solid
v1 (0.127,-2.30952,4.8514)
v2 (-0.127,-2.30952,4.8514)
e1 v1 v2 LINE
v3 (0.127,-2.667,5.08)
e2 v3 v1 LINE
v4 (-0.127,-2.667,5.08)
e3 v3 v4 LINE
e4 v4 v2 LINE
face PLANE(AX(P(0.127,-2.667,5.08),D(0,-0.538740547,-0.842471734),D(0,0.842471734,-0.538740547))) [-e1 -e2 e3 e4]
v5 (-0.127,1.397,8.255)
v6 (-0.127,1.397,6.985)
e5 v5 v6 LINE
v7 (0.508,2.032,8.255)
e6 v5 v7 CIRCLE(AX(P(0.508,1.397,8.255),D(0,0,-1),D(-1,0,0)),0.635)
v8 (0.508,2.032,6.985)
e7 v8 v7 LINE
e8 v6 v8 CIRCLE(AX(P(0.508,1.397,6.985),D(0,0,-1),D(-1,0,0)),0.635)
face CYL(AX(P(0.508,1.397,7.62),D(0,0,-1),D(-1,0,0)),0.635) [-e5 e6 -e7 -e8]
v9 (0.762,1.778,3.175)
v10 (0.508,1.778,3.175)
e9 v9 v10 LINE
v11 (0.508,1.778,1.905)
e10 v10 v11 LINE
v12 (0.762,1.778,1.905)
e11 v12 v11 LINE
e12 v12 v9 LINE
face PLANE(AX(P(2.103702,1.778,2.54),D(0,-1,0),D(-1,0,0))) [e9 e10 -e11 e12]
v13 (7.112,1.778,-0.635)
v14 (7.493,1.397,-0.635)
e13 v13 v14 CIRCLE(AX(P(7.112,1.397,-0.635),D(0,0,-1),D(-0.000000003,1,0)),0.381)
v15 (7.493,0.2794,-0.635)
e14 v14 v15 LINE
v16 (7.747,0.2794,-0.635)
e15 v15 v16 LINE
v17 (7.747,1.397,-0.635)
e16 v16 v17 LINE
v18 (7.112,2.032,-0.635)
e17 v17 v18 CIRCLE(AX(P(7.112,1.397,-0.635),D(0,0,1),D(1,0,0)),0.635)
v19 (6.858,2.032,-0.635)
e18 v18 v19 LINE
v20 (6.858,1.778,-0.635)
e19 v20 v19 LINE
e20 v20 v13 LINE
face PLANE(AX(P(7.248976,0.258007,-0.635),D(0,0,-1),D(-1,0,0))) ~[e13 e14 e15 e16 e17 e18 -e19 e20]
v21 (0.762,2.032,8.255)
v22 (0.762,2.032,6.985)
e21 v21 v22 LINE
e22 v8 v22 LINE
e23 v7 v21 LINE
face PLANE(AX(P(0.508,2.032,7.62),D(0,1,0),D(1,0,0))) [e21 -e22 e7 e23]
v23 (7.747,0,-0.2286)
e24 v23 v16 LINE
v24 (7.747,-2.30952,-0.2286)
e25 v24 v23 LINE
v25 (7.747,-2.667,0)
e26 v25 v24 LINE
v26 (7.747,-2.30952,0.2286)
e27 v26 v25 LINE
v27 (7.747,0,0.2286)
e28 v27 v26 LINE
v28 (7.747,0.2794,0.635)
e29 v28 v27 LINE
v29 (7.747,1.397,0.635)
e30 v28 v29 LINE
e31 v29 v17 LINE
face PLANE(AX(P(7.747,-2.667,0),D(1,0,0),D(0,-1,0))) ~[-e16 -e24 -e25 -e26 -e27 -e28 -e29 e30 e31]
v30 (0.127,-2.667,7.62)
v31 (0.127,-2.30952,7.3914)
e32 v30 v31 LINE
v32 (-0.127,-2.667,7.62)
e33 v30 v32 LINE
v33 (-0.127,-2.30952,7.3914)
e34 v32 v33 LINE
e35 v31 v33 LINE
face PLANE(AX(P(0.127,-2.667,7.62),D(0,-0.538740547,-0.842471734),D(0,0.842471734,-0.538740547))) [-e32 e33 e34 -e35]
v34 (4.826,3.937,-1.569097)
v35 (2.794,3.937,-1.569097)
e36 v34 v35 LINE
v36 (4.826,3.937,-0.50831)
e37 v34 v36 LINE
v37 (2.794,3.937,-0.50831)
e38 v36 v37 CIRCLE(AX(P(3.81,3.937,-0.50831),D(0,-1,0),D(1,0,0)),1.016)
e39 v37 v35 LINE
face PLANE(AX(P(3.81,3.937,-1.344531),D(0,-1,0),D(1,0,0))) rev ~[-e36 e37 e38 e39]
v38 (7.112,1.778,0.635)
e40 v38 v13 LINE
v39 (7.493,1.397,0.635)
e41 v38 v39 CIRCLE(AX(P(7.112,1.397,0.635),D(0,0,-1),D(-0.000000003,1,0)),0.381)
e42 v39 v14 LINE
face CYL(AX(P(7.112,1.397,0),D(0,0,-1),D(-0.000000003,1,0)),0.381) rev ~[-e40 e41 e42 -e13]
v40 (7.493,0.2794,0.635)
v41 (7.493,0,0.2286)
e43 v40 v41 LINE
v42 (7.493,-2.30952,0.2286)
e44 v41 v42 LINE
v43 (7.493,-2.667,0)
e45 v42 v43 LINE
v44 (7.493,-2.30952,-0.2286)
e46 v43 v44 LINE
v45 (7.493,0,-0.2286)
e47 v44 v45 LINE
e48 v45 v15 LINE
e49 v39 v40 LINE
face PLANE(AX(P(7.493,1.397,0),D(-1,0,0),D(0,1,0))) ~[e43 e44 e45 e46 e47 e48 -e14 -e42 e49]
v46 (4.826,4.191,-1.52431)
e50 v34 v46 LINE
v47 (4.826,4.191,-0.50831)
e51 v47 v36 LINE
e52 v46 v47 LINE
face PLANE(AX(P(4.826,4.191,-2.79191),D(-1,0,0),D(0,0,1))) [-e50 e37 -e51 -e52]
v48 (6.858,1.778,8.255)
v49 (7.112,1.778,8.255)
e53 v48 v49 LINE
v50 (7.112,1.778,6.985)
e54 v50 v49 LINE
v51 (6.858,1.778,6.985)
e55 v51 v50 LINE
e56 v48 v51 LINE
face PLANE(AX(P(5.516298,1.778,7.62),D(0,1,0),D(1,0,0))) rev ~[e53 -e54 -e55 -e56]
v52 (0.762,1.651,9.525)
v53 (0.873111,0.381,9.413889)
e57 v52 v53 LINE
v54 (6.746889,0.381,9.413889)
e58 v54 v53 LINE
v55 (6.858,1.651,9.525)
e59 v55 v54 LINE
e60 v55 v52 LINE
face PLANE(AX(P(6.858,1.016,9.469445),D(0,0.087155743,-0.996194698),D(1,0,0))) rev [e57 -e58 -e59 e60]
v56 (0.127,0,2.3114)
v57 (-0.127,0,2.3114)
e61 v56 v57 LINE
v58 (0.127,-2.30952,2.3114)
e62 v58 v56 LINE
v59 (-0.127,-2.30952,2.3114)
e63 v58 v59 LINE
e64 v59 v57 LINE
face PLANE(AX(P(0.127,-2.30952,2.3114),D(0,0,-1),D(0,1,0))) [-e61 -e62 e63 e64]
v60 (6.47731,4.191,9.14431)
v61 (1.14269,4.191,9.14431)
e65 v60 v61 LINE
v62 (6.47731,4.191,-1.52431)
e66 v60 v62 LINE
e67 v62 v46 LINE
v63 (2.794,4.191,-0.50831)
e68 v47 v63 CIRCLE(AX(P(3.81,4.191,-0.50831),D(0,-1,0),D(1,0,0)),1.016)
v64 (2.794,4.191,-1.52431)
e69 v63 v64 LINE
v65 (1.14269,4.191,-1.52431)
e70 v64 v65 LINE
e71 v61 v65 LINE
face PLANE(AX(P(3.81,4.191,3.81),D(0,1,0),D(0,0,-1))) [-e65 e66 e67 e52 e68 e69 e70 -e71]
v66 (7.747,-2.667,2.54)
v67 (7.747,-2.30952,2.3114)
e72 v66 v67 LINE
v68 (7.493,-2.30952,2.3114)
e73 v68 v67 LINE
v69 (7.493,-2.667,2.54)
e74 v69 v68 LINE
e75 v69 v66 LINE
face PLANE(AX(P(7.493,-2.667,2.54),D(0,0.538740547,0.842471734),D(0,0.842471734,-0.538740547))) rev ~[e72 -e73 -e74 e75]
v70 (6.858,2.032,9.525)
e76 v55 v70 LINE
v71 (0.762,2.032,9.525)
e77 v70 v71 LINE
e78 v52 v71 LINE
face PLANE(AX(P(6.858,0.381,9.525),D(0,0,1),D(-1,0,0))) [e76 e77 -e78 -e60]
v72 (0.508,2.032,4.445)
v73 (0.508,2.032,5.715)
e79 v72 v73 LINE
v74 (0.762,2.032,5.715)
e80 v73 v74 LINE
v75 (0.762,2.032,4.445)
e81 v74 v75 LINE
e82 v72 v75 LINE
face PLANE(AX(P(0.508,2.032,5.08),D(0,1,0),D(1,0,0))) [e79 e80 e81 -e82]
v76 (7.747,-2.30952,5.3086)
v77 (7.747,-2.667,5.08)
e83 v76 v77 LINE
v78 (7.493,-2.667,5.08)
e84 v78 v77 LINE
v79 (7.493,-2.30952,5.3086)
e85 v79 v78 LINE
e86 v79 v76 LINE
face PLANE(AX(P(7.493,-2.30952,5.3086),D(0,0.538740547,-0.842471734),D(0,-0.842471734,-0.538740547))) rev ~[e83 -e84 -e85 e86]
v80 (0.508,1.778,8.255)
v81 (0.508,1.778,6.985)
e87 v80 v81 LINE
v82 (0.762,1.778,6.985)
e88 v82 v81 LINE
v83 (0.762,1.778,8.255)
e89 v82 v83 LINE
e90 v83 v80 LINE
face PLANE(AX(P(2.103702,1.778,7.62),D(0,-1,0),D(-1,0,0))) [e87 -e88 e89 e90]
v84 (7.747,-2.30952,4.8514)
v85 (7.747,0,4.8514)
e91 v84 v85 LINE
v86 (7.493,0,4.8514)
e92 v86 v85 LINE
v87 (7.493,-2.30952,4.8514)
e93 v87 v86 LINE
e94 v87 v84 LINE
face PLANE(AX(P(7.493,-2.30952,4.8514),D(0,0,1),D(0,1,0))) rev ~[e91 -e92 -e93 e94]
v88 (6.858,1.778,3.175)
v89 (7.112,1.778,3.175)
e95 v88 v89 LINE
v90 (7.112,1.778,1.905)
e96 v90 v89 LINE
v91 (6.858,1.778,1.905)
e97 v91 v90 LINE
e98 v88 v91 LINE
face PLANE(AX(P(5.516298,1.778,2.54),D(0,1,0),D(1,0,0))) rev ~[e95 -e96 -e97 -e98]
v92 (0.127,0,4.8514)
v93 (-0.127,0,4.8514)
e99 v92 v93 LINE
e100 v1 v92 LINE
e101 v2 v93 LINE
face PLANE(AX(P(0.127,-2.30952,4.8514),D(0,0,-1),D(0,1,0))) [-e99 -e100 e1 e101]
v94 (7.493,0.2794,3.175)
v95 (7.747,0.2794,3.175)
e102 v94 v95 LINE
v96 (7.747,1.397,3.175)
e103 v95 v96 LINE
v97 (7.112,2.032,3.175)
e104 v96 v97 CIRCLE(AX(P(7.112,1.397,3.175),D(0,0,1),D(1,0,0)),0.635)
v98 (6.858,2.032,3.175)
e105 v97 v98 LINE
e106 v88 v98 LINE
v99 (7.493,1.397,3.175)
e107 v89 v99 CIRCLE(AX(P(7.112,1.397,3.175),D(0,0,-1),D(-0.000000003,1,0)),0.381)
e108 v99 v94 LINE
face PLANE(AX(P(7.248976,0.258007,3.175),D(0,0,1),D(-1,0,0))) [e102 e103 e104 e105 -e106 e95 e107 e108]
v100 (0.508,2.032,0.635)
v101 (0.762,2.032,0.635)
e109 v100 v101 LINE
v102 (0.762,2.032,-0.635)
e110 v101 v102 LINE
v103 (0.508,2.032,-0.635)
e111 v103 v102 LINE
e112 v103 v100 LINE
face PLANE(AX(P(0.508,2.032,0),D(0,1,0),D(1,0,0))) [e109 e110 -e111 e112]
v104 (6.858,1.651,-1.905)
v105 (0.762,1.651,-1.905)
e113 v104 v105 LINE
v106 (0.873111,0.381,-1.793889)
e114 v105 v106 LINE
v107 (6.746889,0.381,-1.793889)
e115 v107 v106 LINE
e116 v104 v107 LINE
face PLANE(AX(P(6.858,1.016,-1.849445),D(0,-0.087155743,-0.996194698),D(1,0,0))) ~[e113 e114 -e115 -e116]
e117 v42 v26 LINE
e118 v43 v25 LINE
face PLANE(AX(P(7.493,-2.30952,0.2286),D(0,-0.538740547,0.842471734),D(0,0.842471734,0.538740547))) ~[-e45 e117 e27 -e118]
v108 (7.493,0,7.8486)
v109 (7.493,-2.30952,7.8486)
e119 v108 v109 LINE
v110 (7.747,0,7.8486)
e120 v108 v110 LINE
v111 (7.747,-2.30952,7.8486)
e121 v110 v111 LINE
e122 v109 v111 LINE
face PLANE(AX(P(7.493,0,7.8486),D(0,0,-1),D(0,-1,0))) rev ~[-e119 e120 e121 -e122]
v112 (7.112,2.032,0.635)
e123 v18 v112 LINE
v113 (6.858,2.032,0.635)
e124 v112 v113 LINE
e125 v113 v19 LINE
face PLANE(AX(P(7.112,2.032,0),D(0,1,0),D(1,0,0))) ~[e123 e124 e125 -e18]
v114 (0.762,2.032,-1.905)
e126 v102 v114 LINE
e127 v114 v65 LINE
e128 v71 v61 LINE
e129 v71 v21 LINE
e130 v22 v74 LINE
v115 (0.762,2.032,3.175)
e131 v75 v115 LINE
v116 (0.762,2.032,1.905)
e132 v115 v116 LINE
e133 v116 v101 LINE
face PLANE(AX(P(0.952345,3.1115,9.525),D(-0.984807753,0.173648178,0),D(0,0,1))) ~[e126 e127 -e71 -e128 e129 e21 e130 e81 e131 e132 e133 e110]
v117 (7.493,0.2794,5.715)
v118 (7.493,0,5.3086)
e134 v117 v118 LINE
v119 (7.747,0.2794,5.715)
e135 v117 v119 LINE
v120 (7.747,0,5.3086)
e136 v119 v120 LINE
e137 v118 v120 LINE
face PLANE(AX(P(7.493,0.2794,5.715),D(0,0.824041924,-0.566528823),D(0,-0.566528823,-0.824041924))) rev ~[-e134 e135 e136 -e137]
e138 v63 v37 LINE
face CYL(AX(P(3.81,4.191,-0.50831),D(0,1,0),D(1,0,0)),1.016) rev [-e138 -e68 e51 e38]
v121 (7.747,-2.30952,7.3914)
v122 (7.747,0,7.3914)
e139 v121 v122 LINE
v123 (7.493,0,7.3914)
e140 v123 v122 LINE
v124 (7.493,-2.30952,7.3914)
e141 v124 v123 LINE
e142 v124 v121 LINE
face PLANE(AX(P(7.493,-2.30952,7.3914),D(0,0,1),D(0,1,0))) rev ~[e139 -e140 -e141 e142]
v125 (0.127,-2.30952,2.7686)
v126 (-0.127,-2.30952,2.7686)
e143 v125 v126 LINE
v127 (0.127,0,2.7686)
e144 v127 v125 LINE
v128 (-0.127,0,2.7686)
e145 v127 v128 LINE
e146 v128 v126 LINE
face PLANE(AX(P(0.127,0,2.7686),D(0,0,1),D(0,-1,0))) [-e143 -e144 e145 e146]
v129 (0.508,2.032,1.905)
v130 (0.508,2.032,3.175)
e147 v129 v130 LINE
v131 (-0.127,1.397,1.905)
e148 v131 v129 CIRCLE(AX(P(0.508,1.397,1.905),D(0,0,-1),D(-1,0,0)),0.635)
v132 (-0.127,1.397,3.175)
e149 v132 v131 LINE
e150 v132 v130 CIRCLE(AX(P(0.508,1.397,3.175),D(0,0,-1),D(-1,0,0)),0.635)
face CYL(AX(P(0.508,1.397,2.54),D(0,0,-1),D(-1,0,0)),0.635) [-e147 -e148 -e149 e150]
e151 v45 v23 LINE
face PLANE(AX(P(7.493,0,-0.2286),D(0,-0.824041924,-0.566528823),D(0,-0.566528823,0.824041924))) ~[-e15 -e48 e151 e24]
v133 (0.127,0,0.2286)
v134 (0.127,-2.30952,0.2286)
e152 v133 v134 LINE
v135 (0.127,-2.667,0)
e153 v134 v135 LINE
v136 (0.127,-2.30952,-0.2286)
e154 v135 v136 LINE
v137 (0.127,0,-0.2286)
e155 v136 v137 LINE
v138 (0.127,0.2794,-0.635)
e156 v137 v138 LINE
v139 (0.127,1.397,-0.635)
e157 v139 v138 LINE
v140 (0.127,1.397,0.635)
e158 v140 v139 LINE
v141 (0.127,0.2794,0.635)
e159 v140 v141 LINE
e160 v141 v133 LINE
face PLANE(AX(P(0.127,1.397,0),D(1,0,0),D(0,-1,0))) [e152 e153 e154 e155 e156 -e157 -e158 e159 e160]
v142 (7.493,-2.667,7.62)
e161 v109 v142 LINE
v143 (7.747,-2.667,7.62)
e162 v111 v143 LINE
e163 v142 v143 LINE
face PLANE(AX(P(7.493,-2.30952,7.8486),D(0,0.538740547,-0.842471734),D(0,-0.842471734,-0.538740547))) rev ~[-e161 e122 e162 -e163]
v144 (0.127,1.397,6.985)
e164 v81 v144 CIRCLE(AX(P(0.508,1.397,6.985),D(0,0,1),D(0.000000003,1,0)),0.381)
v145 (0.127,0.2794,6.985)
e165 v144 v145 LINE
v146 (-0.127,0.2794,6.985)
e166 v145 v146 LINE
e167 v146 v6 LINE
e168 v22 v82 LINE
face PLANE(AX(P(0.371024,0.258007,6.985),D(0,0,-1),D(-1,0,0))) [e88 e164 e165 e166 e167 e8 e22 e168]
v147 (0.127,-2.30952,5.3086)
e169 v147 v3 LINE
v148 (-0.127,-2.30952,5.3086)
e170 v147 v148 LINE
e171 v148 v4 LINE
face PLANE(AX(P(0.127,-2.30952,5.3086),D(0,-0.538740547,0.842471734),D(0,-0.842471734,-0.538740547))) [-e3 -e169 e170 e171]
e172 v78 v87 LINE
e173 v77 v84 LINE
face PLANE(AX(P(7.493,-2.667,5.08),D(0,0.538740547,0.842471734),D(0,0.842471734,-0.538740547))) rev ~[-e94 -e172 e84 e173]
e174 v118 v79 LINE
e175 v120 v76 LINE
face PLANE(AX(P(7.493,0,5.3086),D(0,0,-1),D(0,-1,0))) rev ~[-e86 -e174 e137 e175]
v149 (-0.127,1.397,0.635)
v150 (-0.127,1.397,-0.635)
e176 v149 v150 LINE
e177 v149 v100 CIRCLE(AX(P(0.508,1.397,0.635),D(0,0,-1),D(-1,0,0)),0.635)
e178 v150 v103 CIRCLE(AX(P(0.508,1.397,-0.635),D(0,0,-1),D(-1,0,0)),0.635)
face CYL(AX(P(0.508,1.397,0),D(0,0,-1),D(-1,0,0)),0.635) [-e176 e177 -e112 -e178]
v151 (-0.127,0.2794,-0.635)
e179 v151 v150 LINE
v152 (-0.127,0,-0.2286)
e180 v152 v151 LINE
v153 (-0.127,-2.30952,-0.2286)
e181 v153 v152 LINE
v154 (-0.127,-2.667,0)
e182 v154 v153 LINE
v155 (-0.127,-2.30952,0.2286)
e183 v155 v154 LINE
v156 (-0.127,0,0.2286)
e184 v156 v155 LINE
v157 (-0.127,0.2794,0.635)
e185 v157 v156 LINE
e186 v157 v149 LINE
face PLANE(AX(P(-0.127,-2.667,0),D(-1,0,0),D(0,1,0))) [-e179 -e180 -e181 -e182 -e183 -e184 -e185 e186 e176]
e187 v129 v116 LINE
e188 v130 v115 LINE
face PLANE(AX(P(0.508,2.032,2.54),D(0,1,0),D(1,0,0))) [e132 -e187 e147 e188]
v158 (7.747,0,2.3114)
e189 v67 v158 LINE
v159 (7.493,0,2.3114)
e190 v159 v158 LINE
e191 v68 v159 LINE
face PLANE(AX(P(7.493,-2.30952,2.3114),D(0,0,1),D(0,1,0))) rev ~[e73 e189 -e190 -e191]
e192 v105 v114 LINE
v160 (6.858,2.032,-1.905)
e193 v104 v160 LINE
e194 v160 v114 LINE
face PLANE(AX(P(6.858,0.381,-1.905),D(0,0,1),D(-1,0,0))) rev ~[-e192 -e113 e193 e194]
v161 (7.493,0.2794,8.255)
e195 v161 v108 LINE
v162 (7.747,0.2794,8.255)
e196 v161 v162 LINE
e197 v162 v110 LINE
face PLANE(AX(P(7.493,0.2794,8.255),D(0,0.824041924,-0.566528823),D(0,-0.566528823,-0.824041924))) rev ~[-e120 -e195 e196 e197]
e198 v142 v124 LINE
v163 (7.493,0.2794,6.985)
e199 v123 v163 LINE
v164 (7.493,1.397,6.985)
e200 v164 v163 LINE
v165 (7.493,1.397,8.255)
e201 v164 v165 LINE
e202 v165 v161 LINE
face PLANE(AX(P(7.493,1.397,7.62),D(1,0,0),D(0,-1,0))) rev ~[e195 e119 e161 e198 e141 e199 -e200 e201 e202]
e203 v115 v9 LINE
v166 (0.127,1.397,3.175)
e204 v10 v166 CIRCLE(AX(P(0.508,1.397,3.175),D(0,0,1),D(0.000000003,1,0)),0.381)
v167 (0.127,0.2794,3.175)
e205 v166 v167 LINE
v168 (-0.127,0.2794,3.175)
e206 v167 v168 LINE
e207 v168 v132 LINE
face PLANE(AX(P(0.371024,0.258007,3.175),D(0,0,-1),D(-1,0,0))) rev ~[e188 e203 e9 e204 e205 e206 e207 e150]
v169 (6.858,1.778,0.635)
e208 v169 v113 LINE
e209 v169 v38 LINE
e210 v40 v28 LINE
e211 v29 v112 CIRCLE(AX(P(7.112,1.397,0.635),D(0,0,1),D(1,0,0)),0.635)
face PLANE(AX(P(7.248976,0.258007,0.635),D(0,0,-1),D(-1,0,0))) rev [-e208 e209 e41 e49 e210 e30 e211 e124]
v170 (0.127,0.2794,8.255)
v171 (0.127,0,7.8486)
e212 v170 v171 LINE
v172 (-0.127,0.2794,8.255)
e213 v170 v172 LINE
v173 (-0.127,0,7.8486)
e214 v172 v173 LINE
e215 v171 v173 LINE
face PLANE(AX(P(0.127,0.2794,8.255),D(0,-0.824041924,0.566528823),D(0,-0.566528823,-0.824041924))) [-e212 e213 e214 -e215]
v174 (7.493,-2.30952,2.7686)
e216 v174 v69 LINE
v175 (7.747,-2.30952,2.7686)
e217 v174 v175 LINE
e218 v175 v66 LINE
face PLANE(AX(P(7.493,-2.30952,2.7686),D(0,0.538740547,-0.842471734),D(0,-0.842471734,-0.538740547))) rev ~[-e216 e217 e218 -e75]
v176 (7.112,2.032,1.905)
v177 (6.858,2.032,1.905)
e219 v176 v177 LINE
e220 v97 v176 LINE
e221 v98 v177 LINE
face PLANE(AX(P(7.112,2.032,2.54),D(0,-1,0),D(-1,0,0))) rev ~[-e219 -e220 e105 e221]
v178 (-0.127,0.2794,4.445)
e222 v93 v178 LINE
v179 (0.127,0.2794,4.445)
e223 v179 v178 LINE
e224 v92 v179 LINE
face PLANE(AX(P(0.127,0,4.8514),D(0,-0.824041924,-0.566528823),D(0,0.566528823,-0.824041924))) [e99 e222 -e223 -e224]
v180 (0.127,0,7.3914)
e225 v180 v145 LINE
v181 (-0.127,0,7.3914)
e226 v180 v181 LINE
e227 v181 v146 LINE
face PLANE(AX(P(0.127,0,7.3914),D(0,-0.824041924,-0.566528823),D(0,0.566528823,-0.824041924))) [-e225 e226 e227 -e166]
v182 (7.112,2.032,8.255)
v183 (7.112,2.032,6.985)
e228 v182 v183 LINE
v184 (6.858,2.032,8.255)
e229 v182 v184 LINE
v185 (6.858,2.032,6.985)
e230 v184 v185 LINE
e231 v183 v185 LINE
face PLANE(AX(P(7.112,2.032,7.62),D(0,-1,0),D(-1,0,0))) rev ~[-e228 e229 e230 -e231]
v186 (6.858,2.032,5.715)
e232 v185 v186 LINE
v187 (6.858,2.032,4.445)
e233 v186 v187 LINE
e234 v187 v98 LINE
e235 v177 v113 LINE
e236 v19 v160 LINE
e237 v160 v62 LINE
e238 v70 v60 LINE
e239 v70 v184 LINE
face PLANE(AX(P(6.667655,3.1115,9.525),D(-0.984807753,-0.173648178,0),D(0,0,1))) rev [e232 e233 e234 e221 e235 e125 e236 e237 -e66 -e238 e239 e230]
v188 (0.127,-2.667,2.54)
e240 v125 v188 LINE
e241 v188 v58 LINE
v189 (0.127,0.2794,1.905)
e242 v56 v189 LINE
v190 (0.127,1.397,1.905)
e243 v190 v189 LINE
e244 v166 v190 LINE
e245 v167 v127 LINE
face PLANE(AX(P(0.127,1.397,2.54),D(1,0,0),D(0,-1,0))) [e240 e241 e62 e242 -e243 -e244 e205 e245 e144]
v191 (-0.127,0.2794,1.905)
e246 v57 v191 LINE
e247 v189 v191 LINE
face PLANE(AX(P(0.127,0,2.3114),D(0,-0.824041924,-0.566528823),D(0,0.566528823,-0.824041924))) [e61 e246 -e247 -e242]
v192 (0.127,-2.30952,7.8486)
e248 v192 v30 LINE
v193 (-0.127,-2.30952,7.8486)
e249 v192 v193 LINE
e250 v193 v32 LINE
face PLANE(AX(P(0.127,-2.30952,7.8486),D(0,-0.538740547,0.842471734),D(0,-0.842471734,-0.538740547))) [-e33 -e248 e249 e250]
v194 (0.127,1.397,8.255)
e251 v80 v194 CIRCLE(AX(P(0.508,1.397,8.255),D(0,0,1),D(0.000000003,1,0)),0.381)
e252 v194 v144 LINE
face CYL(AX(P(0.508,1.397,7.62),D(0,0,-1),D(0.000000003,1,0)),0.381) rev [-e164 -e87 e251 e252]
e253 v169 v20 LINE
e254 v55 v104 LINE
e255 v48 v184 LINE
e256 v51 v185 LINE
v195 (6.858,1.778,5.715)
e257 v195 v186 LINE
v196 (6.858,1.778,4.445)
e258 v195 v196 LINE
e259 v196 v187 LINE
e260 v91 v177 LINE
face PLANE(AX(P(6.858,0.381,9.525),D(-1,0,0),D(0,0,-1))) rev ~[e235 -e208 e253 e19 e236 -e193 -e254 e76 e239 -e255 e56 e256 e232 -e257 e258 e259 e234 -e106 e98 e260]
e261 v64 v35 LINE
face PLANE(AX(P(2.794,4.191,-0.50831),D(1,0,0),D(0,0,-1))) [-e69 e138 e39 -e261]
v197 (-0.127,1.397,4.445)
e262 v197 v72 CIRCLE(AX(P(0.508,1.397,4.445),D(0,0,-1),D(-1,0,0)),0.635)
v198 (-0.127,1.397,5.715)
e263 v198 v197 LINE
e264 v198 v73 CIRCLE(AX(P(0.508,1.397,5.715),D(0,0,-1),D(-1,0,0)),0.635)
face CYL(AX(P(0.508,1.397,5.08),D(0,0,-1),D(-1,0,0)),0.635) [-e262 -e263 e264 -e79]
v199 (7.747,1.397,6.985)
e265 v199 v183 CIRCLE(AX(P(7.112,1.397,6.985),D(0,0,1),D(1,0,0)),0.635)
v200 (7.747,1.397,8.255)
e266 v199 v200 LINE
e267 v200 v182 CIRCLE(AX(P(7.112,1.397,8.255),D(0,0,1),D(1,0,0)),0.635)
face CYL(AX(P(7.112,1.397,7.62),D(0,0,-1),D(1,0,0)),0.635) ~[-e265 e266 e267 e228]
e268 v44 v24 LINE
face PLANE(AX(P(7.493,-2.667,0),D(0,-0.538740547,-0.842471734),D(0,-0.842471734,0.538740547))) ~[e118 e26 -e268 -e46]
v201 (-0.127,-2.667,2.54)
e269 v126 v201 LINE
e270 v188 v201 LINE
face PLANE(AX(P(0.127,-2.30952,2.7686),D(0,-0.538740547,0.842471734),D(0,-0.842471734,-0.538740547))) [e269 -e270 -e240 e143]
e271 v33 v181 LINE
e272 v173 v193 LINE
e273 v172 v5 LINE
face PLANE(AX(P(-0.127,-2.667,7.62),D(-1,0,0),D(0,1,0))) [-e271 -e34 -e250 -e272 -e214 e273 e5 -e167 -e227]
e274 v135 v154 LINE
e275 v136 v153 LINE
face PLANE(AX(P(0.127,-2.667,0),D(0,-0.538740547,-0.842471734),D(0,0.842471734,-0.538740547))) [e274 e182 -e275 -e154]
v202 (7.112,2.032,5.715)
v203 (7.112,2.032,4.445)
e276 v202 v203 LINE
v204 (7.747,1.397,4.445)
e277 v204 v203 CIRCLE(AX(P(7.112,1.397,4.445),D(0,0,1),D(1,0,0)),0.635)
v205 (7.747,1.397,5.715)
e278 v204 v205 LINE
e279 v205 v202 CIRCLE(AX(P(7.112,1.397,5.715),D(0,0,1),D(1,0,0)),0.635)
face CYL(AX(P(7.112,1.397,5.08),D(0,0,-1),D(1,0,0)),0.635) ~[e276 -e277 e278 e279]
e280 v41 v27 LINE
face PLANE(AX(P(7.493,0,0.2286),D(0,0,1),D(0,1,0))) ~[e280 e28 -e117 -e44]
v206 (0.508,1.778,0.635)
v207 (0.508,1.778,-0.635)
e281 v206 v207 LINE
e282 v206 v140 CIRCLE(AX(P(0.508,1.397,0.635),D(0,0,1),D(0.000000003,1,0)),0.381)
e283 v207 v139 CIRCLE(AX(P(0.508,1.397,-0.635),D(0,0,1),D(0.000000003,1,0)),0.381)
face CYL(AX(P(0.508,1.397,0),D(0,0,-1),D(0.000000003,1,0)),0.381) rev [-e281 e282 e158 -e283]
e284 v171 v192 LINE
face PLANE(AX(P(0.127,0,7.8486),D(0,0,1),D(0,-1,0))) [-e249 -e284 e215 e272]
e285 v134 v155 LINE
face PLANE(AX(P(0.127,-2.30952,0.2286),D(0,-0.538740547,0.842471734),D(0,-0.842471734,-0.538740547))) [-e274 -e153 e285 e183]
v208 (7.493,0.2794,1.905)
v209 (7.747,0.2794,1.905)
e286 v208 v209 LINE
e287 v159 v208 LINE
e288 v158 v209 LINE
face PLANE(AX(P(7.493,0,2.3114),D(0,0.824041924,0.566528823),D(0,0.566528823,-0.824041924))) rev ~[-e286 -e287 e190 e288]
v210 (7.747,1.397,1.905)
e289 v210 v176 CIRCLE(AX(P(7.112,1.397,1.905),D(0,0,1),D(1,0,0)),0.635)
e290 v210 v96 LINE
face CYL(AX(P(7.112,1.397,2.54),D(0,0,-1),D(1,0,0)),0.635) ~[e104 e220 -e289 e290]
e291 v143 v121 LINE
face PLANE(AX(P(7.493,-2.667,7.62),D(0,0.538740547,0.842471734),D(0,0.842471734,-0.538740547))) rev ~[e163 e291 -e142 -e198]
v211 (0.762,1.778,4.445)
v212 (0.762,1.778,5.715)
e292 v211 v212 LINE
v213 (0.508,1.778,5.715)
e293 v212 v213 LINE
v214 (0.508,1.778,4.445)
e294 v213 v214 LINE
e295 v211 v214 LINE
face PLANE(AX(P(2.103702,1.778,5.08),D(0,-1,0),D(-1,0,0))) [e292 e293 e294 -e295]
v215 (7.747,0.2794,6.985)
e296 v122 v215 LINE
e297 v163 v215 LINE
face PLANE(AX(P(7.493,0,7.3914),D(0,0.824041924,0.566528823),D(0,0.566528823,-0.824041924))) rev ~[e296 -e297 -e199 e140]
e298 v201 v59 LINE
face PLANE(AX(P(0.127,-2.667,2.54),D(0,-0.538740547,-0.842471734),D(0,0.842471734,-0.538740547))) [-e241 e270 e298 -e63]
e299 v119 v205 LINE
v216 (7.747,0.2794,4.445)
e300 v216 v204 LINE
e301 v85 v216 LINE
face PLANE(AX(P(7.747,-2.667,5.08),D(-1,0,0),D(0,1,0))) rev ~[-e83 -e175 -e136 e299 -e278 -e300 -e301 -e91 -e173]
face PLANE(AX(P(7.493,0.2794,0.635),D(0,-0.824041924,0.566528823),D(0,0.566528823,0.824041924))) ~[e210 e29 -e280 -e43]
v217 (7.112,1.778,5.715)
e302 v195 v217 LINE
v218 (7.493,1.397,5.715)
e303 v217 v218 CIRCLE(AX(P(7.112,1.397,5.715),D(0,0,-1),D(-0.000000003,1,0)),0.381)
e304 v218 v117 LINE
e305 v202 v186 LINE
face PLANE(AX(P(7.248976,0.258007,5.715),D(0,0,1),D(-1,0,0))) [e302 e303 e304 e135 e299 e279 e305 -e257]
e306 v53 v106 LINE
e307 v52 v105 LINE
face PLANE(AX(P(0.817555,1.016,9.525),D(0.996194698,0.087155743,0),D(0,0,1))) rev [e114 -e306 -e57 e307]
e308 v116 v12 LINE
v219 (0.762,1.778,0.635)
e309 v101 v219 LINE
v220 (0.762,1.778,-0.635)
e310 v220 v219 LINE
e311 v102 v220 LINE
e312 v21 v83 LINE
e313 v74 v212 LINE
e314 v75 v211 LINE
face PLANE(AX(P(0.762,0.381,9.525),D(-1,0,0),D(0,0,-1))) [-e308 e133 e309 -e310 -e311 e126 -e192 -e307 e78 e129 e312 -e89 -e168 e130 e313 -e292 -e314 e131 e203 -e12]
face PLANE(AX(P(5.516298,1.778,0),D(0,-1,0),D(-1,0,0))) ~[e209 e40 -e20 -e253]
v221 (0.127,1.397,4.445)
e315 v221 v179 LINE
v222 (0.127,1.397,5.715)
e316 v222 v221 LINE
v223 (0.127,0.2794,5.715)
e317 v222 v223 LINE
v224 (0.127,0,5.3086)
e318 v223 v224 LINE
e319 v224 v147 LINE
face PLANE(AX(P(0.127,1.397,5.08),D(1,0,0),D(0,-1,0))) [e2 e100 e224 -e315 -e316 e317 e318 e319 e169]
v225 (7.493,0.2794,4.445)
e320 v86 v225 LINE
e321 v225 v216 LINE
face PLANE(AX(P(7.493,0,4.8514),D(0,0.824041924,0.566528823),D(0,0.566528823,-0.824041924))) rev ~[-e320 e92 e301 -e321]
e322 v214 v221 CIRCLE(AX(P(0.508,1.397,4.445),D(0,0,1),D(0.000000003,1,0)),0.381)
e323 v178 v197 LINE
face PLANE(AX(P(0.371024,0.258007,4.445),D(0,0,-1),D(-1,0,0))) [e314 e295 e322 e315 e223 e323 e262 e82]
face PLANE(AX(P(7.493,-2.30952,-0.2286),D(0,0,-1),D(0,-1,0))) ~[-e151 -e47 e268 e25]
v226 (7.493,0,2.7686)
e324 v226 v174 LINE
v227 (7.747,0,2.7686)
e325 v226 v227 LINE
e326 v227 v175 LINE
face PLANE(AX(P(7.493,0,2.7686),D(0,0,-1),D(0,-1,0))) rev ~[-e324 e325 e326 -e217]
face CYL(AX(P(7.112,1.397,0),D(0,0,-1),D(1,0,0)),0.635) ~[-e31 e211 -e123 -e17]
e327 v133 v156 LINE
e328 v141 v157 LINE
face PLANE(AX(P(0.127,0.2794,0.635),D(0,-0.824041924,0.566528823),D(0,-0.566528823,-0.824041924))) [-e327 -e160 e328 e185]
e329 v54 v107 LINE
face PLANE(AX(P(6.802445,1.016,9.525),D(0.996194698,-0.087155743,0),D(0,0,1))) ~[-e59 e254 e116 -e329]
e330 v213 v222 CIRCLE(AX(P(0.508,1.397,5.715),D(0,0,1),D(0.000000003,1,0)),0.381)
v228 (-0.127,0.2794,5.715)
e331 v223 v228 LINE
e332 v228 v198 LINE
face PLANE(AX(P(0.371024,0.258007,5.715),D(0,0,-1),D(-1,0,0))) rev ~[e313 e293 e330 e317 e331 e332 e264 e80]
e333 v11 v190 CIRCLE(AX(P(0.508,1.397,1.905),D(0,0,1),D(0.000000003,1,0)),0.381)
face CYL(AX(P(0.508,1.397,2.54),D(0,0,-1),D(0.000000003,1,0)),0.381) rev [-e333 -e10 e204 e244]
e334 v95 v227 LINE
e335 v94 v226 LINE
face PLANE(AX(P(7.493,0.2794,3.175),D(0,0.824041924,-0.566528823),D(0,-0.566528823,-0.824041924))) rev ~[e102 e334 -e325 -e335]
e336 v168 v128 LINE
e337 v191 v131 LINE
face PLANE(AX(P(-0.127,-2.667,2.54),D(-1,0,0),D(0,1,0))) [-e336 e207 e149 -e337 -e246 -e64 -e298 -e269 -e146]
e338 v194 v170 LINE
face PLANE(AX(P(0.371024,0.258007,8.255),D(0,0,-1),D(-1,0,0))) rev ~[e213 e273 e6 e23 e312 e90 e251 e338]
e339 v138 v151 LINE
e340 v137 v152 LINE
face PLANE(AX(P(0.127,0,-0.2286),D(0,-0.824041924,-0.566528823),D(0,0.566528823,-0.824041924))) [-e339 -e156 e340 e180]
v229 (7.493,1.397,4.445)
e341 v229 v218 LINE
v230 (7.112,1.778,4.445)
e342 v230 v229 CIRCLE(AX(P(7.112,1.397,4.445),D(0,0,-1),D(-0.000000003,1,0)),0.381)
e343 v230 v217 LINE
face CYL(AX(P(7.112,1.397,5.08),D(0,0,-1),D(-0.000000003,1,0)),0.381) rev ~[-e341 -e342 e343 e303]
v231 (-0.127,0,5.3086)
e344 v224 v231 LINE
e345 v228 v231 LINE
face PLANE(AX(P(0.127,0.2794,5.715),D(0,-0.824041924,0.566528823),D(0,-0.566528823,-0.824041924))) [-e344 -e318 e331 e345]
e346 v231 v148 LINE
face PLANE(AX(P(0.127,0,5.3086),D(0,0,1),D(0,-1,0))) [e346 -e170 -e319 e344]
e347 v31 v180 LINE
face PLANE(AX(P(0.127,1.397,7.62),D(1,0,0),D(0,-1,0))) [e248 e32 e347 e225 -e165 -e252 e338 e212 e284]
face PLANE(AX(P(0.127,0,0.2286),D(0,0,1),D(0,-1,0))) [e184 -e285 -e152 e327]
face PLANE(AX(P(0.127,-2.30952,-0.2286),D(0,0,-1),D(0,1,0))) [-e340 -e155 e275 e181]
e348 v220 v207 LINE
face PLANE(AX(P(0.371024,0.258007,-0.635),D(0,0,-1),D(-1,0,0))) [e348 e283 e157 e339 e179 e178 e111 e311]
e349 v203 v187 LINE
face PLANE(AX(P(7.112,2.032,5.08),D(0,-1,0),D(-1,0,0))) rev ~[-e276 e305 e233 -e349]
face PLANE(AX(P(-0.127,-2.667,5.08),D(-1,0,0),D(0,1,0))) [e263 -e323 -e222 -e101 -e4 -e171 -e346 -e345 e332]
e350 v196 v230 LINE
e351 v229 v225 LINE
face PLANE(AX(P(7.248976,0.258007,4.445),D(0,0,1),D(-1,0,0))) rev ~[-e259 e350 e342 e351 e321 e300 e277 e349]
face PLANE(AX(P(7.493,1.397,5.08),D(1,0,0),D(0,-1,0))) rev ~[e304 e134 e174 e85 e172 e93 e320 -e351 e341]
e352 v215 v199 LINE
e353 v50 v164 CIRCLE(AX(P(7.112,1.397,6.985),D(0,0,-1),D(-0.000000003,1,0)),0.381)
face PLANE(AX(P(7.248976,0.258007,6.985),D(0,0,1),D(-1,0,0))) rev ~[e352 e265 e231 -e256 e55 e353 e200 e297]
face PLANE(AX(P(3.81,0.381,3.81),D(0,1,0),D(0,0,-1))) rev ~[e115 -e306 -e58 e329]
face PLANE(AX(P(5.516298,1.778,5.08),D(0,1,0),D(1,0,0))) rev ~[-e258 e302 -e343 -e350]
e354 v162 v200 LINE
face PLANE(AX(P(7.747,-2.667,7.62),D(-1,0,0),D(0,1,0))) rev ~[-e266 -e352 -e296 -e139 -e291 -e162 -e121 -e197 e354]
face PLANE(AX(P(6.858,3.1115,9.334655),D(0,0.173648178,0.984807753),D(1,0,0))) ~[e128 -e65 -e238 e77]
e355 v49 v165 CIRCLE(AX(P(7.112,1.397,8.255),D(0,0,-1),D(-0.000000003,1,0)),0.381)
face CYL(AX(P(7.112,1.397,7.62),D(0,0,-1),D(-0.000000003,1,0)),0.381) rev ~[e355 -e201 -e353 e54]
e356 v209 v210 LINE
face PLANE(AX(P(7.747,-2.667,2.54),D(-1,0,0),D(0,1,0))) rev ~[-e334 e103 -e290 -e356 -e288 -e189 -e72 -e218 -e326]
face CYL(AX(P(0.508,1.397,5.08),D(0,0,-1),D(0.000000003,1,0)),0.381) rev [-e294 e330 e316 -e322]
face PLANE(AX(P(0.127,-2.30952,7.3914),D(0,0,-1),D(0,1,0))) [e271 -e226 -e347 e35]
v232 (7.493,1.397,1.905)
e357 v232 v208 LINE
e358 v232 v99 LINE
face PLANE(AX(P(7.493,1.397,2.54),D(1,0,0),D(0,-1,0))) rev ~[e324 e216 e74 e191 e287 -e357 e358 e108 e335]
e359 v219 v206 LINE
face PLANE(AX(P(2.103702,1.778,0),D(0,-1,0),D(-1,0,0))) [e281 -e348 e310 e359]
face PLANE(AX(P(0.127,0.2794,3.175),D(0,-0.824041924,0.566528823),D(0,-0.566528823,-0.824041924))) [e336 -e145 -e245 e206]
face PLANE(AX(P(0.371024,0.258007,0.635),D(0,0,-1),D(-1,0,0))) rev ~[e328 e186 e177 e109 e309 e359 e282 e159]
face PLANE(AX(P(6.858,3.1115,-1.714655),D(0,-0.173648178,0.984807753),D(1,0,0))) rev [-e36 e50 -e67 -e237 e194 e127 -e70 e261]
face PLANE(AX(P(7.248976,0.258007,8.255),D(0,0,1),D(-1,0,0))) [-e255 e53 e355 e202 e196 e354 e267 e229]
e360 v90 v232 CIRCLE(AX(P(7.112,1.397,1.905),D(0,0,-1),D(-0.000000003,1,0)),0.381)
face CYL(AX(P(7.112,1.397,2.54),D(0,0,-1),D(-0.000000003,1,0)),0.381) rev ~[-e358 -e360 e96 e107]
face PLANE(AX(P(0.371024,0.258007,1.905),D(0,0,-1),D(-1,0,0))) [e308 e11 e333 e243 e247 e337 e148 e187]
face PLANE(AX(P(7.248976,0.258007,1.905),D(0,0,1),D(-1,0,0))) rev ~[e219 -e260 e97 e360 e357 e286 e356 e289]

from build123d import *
from OCP.BRepFilletAPI import BRepFilletAPI_MakeChamfer

# Parameters (mm, degrees)
SKETCH1_W                = 11.43
SKETCH1_H                = 6.096
BASE_EXTRUDE_DEPTH       = 3.81
CHAMFER1_SIZE            = 2.159
CHAMFER1_SIZE2           = 0.380689951
CHAMFER2_SIZE            = 1.27
CHAMFER2_SIZE2           = 0.111110603
CUT_EXTRUDE1_DEPTH       = 0.254
BOSS_EXTRUDE_THIN1_DEPTH = 0.635
CUT_EXTRUDE2_DEPTH       = 0.254
CUT_EXTRUDE3_DEPTH       = 0.254
LPATTERN1_COUNT          = 4
LPATTERN1_PITCH          = 2.54
MIRROR1_COPY_1_DEPTH     = 0.635
MIRROR1_COPY_2_DEPTH     = 0.635
MIRROR1_COPY_3_DEPTH     = 0.635
MIRROR1_COPY_4_DEPTH     = 0.254
MIRROR1_COPY_5_DEPTH     = 0.254
MIRROR1_COPY_6_DEPTH     = 0.254
MIRROR1_COPY_7_DEPTH     = 0.254
MIRROR1_COPY_8_DEPTH     = 0.254
MIRROR1_COPY_9_DEPTH     = 0.254


with BuildPart() as part:
    # Sketch1 → Base-Extrude (new body)
    with BuildSketch(Plane(origin=(0, 0.381, 0), x_dir=(0, 0, -1), z_dir=(0, 1, 0))):
        with Locations((-3.81, -3.81)):
            Rectangle(SKETCH1_W, SKETCH1_H)
    extrude(amount=BASE_EXTRUDE_DEPTH)

    # Chamfer1: one chamfer whose edges measure the first distance from different faces: ONE call of the kernel's chamfer builder (chamfer() names one face for all edges)
    chamfer1_edges_1 = [part.edges().sort_by_distance(p)[0] for p in [
        (3.81, 4.191, 9.525),
    ]]
    chamfer1_side_1 = [part.faces().sort_by_distance(p)[0] for p in [
        (3.81, 2.286, 9.525),
    ]]
    chamfer1_edges_2 = [part.edges().sort_by_distance(p)[0] for p in [
        (6.858, 4.191, 3.81),
    ]]
    chamfer1_side_2 = [part.faces().sort_by_distance(p)[0] for p in [
        (6.858, 2.286, 3.81),
    ]]
    chamfer1_edges_3 = [part.edges().sort_by_distance(p)[0] for p in [
        (3.81, 4.191, -1.905),
    ]]
    chamfer1_side_3 = [part.faces().sort_by_distance(p)[0] for p in [
        (3.81, 2.286, -1.905),
    ]]
    chamfer1_edges_4 = [part.edges().sort_by_distance(p)[0] for p in [
        (0.762, 4.191, 3.81),
    ]]
    chamfer1_side_4 = [part.faces().sort_by_distance(p)[0] for p in [
        (0.762, 2.286, 3.81),
    ]]
    chamfer1 = BRepFilletAPI_MakeChamfer(part.part.solid().wrapped)
    for e in chamfer1_edges_1:
        chamfer1.Add(CHAMFER1_SIZE, CHAMFER1_SIZE2, e.wrapped, chamfer1_side_1[0].wrapped)  # the first distance lies on this face
    for e in chamfer1_edges_2:
        chamfer1.Add(CHAMFER1_SIZE, CHAMFER1_SIZE2, e.wrapped, chamfer1_side_2[0].wrapped)  # the first distance lies on this face
    for e in chamfer1_edges_3:
        chamfer1.Add(CHAMFER1_SIZE, CHAMFER1_SIZE2, e.wrapped, chamfer1_side_3[0].wrapped)  # the first distance lies on this face
    for e in chamfer1_edges_4:
        chamfer1.Add(CHAMFER1_SIZE, CHAMFER1_SIZE2, e.wrapped, chamfer1_side_4[0].wrapped)  # the first distance lies on this face
    add(Compound.cast(chamfer1.Shape()), mode=Mode.REPLACE)

    # Chamfer2: one chamfer whose edges measure the first distance from different faces: ONE call of the kernel's chamfer builder (chamfer() names one face for all edges)
    chamfer2_edges_1 = [part.edges().sort_by_distance(p)[0] for p in [
        (6.858, 0.381, 3.81),
    ]]
    chamfer2_side_1 = [part.faces().sort_by_distance(p)[0] for p in [
        (6.858, 1.2065, 3.81),
    ]]
    chamfer2_edges_2 = [part.edges().sort_by_distance(p)[0] for p in [
        (3.81, 0.381, 9.525),
    ]]
    chamfer2_side_2 = [part.faces().sort_by_distance(p)[0] for p in [
        (3.81, 1.2065, 9.525),
    ]]
    chamfer2_edges_3 = [part.edges().sort_by_distance(p)[0] for p in [
        (0.762, 0.381, 3.81),
    ]]
    chamfer2_side_3 = [part.faces().sort_by_distance(p)[0] for p in [
        (0.762, 1.2065, 3.81),
    ]]
    chamfer2_edges_4 = [part.edges().sort_by_distance(p)[0] for p in [
        (3.81, 0.381, -1.905),
    ]]
    chamfer2_side_4 = [part.faces().sort_by_distance(p)[0] for p in [
        (3.81, 1.2065, -1.905),
    ]]
    chamfer2 = BRepFilletAPI_MakeChamfer(part.part.solid().wrapped)
    for e in chamfer2_edges_1:
        chamfer2.Add(CHAMFER2_SIZE, CHAMFER2_SIZE2, e.wrapped, chamfer2_side_1[0].wrapped)  # the first distance lies on this face
    for e in chamfer2_edges_2:
        chamfer2.Add(CHAMFER2_SIZE, CHAMFER2_SIZE2, e.wrapped, chamfer2_side_2[0].wrapped)  # the first distance lies on this face
    for e in chamfer2_edges_3:
        chamfer2.Add(CHAMFER2_SIZE, CHAMFER2_SIZE2, e.wrapped, chamfer2_side_3[0].wrapped)  # the first distance lies on this face
    for e in chamfer2_edges_4:
        chamfer2.Add(CHAMFER2_SIZE, CHAMFER2_SIZE2, e.wrapped, chamfer2_side_4[0].wrapped)  # the first distance lies on this face
    add(Compound.cast(chamfer2.Shape()), mode=Mode.REPLACE)

    # Sketch2 → Cut-Extrude1 (cut)
    with BuildSketch(Plane(origin=(0, 4.191, 0), x_dir=(-1, 0, 0), z_dir=(0, 1, 0))):
        with BuildLine():
            Line((-2.794, -2.791910465), (-4.826, -2.791910465))
            Line((-4.826, -2.791910465), (-4.826, -0.508310049))
            ThreePointArc((-4.826, -0.508310049), (-3.81, 0.507689951), (-2.794, -0.508310049))
            Line((-2.794, -0.508310049), (-2.794, -2.791910465))
        make_face()
    extrude(amount=-CUT_EXTRUDE1_DEPTH, mode=Mode.SUBTRACT)

    # Sketch3 → Boss-Extrude-Thin1 (add, symmetric)
    with BuildSketch(Plane(origin=(9.017, 0, 0), x_dir=(-1, 0, 0), z_dir=(0, 0, -1))):
        with BuildLine():
            Line((6.913298214, 1.778), (8.509, 1.778))
            ThreePointArc((8.509, 1.778), (8.778407684, 1.666407684), (8.89, 1.397))
            Line((8.89, 1.397), (8.89, -2.667))
            Line((8.89, -2.667), (9.144, -2.667))
            Line((9.144, -2.667), (9.144, 1.397))
            ThreePointArc((9.144, 1.397), (8.958012806, 1.846012806), (8.509, 2.032))
            Line((8.509, 2.032), (6.913298214, 2.032))
            Line((6.913298214, 2.032), (6.913298214, 1.778))
        make_face()
    boss_extrude_thin1 = extrude(amount=BOSS_EXTRUDE_THIN1_DEPTH, both=True)

    # Sketch4 → Cut-Extrude2 (cut)
    with BuildSketch(Plane(origin=(0.127, 0, 0), x_dir=(0, 0, -1), z_dir=(1, 0, 0))):
        Polygon((-0.635, 0.2794), (-0.2286, 0), (-0.2286, -2.309519874), (0, -2.667), (-0.635, -2.667), align=None)
    cut_extrude2 = extrude(amount=-CUT_EXTRUDE2_DEPTH, mode=Mode.SUBTRACT)

    # Sketch5 → Cut-Extrude3 (cut)
    with BuildSketch(Plane(origin=(0.127, 0, 0), x_dir=(0, 0, -1), z_dir=(1, 0, 0))):
        Polygon((0.635, -2.667), (0, -2.667), (0.2286, -2.309519874), (0.2286, 0), (0.635, 0.2794), align=None)
    cut_extrude3 = extrude(amount=-CUT_EXTRUDE3_DEPTH, mode=Mode.SUBTRACT)

    # LPattern1: Boss-Extrude-Thin1, Cut-Extrude2, Cut-Extrude3 ×4
    with Locations(*[(0, 0, i * LPATTERN1_PITCH) for i in range(1, LPATTERN1_COUNT)]):
        add(boss_extrude_thin1)
        add(cut_extrude2, mode=Mode.SUBTRACT)
        add(cut_extrude3, mode=Mode.SUBTRACT)

    # Mirror1: Boss-Extrude-Thin1, Cut-Extrude2, Cut-Extrude3 across plane
    add(boss_extrude_thin1.mirror(Plane.ZY.offset(-3.81)))
    add(cut_extrude2.mirror(Plane.ZY.offset(-3.81)), mode=Mode.SUBTRACT)
    add(cut_extrude3.mirror(Plane.ZY.offset(-3.81)), mode=Mode.SUBTRACT)

    # Mirror1 copy 1 sketch → Mirror1 copy 1 (add, symmetric)
    with BuildSketch(Plane(origin=(-1.397, 0, 2.54), x_dir=(1, 0, 0), z_dir=(0, 0, -1))):
        with BuildLine():
            Line((6.913298214, -1.778), (8.509, -1.778))
            ThreePointArc((8.509, -1.778), (8.778407684, -1.666407684), (8.89, -1.397))
            Line((8.89, -1.397), (8.89, 2.667))
            Line((8.89, 2.667), (9.144, 2.667))
            Line((9.144, 2.667), (9.144, -1.397))
            ThreePointArc((9.144, -1.397), (8.958012806, -1.846012806), (8.509, -2.032))
            Line((8.509, -2.032), (6.913298214, -2.032))
            Line((6.913298214, -2.032), (6.913298214, -1.778))
        make_face()
    extrude(amount=MIRROR1_COPY_1_DEPTH, both=True)

    # Mirror1 copy 2 sketch → Mirror1 copy 2 (add, symmetric)
    with BuildSketch(Plane(origin=(-1.397, 0, 5.08), x_dir=(1, 0, 0), z_dir=(0, 0, -1))):
        with BuildLine():
            Line((6.913298214, -1.778), (8.509, -1.778))
            ThreePointArc((8.509, -1.778), (8.778407684, -1.666407684), (8.89, -1.397))
            Line((8.89, -1.397), (8.89, 2.667))
            Line((8.89, 2.667), (9.144, 2.667))
            Line((9.144, 2.667), (9.144, -1.397))
            ThreePointArc((9.144, -1.397), (8.958012806, -1.846012806), (8.509, -2.032))
            Line((8.509, -2.032), (6.913298214, -2.032))
            Line((6.913298214, -2.032), (6.913298214, -1.778))
        make_face()
    extrude(amount=MIRROR1_COPY_2_DEPTH, both=True)

    # Mirror1 copy 3 sketch → Mirror1 copy 3 (add, symmetric)
    with BuildSketch(Plane(origin=(-1.397, 0, 7.62), x_dir=(1, 0, 0), z_dir=(0, 0, -1))):
        with BuildLine():
            Line((6.913298214, -1.778), (8.509, -1.778))
            ThreePointArc((8.509, -1.778), (8.778407684, -1.666407684), (8.89, -1.397))
            Line((8.89, -1.397), (8.89, 2.667))
            Line((8.89, 2.667), (9.144, 2.667))
            Line((9.144, 2.667), (9.144, -1.397))
            ThreePointArc((9.144, -1.397), (8.958012806, -1.846012806), (8.509, -2.032))
            Line((8.509, -2.032), (6.913298214, -2.032))
            Line((6.913298214, -2.032), (6.913298214, -1.778))
        make_face()
    extrude(amount=MIRROR1_COPY_3_DEPTH, both=True)

    # Mirror1 copy 4 sketch → Mirror1 copy 4 (cut)
    with BuildSketch(Plane(origin=(7.493, 0, 2.54), x_dir=(0, 0, -1), z_dir=(-1, 0, 0))):
        Polygon((-0.635, -0.2794), (-0.2286, 0), (-0.2286, 2.309519874), (0, 2.667), (-0.635, 2.667), align=None)
    extrude(amount=-MIRROR1_COPY_4_DEPTH, mode=Mode.SUBTRACT)

    # Mirror1 copy 5 sketch → Mirror1 copy 5 (cut)
    with BuildSketch(Plane(origin=(7.493, 0, 5.08), x_dir=(0, 0, -1), z_dir=(-1, 0, 0))):
        Polygon((-0.635, -0.2794), (-0.2286, 0), (-0.2286, 2.309519874), (0, 2.667), (-0.635, 2.667), align=None)
    extrude(amount=-MIRROR1_COPY_5_DEPTH, mode=Mode.SUBTRACT)

    # Mirror1 copy 6 sketch → Mirror1 copy 6 (cut)
    with BuildSketch(Plane(origin=(7.493, 0, 7.62), x_dir=(0, 0, -1), z_dir=(-1, 0, 0))):
        Polygon((-0.635, -0.2794), (-0.2286, 0), (-0.2286, 2.309519874), (0, 2.667), (-0.635, 2.667), align=None)
    extrude(amount=-MIRROR1_COPY_6_DEPTH, mode=Mode.SUBTRACT)

    # Mirror1 copy 7 sketch → Mirror1 copy 7 (cut)
    with BuildSketch(Plane(origin=(7.493, 0, 2.54), x_dir=(0, 0, -1), z_dir=(-1, 0, 0))):
        Polygon((0.635, 2.667), (0, 2.667), (0.2286, 2.309519874), (0.2286, 0), (0.635, -0.2794), align=None)
    extrude(amount=-MIRROR1_COPY_7_DEPTH, mode=Mode.SUBTRACT)

    # Mirror1 copy 8 sketch → Mirror1 copy 8 (cut)
    with BuildSketch(Plane(origin=(7.493, 0, 5.08), x_dir=(0, 0, -1), z_dir=(-1, 0, 0))):
        Polygon((0.635, 2.667), (0, 2.667), (0.2286, 2.309519874), (0.2286, 0), (0.635, -0.2794), align=None)
    extrude(amount=-MIRROR1_COPY_8_DEPTH, mode=Mode.SUBTRACT)

    # Mirror1 copy 9 sketch → Mirror1 copy 9 (cut)
    with BuildSketch(Plane(origin=(7.493, 0, 7.62), x_dir=(0, 0, -1), z_dir=(-1, 0, 0))):
        Polygon((0.635, 2.667), (0, 2.667), (0.2286, 2.309519874), (0.2286, 0), (0.635, -0.2794), align=None)
    extrude(amount=-MIRROR1_COPY_9_DEPTH, mode=Mode.SUBTRACT)


solid = part.part
